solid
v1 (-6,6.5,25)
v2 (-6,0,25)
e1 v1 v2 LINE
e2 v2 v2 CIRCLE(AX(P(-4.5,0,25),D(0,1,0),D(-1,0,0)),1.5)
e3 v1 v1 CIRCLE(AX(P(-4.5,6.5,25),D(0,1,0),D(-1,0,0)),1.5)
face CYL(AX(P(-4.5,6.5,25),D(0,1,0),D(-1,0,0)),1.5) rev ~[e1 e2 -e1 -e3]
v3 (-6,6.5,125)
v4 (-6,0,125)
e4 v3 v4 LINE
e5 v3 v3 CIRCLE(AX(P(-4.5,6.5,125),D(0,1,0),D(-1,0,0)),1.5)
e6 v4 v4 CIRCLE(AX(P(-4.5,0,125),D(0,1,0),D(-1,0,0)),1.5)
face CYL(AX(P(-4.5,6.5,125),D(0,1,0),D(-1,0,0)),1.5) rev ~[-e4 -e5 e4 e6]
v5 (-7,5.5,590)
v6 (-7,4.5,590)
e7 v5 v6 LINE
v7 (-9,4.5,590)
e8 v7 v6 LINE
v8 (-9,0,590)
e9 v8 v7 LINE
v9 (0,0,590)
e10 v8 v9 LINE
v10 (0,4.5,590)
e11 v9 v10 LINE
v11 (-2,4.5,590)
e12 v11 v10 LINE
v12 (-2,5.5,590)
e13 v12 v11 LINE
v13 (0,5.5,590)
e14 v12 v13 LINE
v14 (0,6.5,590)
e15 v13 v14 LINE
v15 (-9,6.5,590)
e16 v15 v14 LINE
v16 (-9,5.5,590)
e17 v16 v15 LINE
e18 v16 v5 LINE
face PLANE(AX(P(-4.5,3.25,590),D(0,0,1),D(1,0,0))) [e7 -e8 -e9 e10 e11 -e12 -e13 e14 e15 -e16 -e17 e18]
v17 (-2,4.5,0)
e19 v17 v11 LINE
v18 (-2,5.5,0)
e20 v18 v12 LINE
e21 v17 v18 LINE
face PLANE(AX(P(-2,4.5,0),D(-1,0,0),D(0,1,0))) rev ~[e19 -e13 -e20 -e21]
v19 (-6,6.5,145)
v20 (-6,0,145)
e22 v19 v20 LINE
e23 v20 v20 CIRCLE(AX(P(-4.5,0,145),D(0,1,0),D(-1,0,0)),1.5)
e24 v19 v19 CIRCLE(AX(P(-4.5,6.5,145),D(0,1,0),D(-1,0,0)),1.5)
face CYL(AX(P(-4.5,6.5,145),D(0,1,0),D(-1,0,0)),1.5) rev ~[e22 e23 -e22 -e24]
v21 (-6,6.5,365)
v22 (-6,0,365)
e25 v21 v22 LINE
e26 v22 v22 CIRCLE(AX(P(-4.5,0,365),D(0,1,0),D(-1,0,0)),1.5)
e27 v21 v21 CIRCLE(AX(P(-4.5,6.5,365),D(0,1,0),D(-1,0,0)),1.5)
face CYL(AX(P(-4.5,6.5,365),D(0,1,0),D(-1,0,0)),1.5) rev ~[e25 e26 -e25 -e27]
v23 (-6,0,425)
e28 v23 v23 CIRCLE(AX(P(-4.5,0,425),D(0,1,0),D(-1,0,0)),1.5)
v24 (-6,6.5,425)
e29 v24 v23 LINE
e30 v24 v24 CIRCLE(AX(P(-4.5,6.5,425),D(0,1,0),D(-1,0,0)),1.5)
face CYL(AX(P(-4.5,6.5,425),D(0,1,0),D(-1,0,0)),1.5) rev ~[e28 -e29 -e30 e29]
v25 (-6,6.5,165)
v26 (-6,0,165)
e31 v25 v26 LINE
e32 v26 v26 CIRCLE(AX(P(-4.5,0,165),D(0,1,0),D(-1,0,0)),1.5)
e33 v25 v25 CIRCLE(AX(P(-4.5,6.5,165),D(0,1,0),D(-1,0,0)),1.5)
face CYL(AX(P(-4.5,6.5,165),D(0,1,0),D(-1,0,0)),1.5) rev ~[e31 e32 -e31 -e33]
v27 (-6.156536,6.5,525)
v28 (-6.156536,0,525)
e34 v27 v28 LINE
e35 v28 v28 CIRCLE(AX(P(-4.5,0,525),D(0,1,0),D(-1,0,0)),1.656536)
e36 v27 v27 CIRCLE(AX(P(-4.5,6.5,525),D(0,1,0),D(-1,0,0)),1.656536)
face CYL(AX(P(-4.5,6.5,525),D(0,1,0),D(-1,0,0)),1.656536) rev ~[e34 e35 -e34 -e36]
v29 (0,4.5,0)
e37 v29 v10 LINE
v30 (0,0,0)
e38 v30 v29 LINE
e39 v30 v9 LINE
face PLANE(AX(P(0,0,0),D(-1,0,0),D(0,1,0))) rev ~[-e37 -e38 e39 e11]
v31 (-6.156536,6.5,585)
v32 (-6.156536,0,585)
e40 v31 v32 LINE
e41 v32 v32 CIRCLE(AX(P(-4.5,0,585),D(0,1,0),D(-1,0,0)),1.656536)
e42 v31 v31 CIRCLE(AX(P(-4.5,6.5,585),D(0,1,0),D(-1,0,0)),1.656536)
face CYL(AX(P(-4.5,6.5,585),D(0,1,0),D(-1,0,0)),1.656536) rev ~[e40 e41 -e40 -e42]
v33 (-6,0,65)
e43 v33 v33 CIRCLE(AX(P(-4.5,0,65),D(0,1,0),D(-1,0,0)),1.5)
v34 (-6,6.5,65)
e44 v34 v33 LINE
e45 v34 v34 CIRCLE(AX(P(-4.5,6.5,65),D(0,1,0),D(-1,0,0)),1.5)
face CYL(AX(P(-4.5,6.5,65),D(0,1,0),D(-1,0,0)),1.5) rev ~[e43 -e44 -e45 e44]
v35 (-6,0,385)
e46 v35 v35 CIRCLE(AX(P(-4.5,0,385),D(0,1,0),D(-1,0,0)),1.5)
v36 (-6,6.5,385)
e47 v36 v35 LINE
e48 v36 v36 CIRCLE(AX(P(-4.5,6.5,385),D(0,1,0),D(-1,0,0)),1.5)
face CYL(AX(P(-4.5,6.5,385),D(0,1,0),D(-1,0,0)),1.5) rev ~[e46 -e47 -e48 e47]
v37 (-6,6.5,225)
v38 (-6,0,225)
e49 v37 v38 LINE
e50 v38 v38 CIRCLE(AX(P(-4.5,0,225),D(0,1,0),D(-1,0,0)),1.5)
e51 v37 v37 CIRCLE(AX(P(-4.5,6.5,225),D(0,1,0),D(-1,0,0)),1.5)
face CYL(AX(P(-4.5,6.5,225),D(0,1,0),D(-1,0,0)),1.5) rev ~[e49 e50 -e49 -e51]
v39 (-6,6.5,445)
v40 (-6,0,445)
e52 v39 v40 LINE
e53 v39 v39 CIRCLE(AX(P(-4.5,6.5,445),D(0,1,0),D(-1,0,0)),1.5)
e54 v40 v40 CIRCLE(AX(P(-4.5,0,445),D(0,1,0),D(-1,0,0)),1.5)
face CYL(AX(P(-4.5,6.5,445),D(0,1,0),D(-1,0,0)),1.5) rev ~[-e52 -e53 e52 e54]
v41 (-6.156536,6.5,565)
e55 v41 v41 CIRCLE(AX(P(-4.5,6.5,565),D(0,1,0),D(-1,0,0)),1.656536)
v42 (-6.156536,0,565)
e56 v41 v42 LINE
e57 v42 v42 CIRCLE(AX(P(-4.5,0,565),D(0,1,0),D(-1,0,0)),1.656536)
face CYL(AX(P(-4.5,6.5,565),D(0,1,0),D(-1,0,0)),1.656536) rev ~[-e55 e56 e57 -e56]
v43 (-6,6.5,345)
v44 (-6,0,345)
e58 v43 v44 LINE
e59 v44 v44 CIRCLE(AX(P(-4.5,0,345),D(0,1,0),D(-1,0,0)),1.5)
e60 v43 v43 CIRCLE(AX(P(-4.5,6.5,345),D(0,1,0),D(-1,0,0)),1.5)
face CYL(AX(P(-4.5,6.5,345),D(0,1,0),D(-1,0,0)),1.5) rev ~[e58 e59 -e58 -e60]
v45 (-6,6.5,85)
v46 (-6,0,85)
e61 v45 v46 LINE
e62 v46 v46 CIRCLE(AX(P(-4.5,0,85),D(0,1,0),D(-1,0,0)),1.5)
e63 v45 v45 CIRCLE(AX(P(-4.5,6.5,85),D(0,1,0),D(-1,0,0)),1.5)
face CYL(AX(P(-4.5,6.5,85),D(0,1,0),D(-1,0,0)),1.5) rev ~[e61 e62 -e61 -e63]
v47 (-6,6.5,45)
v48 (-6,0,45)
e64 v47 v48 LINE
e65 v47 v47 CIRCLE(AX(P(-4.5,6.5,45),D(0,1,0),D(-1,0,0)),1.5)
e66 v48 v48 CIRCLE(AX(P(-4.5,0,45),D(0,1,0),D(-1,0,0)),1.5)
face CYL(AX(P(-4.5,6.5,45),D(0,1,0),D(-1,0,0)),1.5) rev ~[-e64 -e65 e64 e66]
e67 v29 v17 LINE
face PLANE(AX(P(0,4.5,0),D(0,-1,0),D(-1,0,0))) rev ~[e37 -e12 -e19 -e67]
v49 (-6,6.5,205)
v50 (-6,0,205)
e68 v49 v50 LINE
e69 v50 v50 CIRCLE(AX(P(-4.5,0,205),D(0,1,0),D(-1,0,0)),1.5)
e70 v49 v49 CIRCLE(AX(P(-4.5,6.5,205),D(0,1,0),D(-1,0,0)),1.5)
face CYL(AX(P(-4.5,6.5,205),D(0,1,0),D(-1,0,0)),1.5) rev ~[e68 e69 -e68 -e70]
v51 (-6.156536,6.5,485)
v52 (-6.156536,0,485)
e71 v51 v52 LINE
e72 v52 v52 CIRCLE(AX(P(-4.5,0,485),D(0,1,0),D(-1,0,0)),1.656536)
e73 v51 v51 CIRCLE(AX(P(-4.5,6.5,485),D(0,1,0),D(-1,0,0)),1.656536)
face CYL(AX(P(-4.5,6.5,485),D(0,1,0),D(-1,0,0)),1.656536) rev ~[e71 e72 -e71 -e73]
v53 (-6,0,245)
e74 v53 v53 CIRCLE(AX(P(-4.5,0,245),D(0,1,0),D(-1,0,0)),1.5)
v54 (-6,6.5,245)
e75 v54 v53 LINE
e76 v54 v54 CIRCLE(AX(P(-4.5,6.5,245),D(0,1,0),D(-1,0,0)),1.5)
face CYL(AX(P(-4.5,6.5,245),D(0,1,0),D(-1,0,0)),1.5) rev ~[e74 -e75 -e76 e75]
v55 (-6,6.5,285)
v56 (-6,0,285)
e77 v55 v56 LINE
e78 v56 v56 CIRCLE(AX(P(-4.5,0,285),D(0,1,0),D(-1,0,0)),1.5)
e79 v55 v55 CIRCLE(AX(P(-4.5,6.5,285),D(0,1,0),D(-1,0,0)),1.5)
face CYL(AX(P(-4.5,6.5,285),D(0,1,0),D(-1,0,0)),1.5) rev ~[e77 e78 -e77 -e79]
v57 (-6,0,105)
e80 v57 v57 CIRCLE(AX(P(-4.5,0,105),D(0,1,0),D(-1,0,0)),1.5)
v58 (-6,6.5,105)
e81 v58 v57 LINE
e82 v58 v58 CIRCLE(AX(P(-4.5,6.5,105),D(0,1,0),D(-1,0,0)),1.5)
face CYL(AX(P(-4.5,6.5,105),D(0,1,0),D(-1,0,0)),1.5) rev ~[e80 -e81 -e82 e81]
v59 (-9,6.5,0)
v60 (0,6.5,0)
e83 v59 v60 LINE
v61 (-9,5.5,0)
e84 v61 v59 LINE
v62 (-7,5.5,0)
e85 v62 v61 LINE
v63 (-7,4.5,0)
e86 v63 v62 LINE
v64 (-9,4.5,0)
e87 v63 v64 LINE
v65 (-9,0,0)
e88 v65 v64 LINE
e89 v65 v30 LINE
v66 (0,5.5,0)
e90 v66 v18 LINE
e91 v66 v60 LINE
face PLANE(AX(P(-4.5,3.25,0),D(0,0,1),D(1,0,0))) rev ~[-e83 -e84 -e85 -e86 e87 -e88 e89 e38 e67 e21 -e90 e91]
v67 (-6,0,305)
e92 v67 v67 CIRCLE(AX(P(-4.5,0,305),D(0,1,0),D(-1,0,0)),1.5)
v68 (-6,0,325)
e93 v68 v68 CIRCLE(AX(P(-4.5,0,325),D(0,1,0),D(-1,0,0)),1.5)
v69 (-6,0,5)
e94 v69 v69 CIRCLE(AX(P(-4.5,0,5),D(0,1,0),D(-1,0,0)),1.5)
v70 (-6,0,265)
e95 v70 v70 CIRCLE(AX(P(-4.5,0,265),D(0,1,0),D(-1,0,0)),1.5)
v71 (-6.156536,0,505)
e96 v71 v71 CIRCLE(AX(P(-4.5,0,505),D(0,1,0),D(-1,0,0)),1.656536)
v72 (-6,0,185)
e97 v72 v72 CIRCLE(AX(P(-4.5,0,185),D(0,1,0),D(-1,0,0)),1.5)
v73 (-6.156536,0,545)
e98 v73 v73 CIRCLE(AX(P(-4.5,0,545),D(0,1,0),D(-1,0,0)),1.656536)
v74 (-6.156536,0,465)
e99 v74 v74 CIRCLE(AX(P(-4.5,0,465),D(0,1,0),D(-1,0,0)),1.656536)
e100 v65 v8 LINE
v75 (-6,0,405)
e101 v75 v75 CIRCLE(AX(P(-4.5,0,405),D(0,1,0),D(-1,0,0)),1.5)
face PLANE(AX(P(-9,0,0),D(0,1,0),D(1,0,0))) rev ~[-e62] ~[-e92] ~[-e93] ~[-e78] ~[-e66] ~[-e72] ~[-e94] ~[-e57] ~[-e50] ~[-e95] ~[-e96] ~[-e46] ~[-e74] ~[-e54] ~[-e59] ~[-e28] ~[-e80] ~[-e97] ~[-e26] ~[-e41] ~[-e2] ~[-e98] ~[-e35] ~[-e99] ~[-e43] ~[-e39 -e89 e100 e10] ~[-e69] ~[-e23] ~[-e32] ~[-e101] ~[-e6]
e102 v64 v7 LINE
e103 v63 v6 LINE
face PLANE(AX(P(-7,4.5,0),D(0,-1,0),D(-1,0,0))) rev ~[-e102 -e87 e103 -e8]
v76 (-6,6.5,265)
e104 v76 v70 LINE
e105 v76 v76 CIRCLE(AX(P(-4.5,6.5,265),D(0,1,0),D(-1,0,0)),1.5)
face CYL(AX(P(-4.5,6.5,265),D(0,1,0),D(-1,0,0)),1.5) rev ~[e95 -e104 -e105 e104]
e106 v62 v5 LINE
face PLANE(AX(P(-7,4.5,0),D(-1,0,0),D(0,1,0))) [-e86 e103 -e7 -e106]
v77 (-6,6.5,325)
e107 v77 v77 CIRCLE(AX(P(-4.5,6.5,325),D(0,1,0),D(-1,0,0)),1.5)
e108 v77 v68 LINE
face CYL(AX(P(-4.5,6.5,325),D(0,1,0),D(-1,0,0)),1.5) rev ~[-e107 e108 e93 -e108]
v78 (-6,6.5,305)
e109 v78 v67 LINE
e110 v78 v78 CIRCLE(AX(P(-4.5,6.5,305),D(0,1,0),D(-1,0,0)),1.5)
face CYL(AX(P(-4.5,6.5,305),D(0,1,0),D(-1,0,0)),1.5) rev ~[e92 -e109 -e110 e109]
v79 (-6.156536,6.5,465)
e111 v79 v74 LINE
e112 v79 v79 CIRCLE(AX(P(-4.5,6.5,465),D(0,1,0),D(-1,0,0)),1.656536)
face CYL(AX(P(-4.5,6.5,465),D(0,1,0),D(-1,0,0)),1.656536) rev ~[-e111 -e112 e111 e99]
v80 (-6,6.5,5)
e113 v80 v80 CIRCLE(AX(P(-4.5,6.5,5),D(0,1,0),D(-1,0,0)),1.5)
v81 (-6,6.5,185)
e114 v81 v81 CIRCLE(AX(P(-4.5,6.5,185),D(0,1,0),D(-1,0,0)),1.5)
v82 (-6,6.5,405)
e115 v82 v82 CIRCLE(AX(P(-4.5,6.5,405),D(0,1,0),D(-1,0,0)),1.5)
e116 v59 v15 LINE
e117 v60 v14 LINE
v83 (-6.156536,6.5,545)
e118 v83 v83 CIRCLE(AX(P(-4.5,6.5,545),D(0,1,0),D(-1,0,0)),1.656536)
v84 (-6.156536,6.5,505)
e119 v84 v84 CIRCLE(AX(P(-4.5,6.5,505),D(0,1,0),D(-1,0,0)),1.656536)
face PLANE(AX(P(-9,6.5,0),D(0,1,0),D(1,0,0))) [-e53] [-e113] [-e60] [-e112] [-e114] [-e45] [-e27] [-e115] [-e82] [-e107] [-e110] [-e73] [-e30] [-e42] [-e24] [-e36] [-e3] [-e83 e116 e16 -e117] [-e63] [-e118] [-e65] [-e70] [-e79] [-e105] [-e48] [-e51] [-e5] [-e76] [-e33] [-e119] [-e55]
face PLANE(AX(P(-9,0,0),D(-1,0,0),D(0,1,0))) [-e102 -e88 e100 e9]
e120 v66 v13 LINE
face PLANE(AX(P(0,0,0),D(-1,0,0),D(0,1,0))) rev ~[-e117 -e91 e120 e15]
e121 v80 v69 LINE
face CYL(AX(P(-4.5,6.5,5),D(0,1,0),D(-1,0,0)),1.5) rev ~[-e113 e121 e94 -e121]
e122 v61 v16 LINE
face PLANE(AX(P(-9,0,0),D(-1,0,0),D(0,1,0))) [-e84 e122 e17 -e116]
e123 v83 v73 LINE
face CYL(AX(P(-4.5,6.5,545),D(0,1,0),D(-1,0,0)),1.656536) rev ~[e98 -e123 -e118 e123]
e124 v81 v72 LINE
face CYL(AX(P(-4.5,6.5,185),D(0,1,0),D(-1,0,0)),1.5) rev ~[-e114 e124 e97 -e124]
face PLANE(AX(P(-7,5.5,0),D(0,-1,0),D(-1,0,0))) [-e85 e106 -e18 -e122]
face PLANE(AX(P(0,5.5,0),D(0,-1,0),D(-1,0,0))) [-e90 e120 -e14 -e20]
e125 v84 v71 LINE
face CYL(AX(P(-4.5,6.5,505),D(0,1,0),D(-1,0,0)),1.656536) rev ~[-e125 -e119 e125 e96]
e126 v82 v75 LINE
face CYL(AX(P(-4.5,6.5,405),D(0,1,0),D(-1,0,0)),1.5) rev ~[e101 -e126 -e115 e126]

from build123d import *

# Parameters (mm, degrees)
SKETCH_1_W          = 9
SKETCH_1_H          = 6.5
EXTRUDE_1_DEPTH     = 590
SKETCH_2_W          = 2
SKETCH_2_H          = 1
CUT_EXTRUDE_1_DEPTH = 610
CUT_EXTRUDE_2_REACH = 592.104
SKETCH_3_R          = 1.5
SKETCH_4_R          = 1.656535544
CUT_EXTRUDE_3_DEPTH = 10


with BuildPart() as part:
    # 草图1 → 凸台-拉伸1 (new body)
    with BuildSketch(Plane.XY):
        with Locations((-4.5, 3.25)):
            Rectangle(SKETCH_1_W, SKETCH_1_H)
    extrude(amount=EXTRUDE_1_DEPTH)

    # 草图2 → 切除-拉伸1 (cut)
    with BuildSketch(Plane(origin=(0, 0, 0), x_dir=(-1, 0, 0), z_dir=(0, 0, -1))):
        with Locations((1, 5)):
            Rectangle(SKETCH_2_W, SKETCH_2_H)
        with Locations((8, 5)):
            Rectangle(SKETCH_2_W, SKETCH_2_H)
    extrude(amount=-CUT_EXTRUDE_1_DEPTH, mode=Mode.SUBTRACT)

    # 草图3 → 切除-拉伸2 (cut, up to next)
    with BuildSketch(Plane(origin=(0, 6.5, 0), x_dir=(1, 0, 0), z_dir=(0, 1, 0)), mode=Mode.PRIVATE) as cut_extrude_2_sk1:
        with Locations(Location((-4.5, -5, 0), (0, 0, 180))):
            Circle(SKETCH_3_R)
    cut_extrude_2_tool1 = extrude(cut_extrude_2_sk1.sketch, amount=-CUT_EXTRUDE_2_REACH, mode=Mode.PRIVATE) & part.part
    # 草图3 → 切除-拉伸2 (cut, up to next)
    with BuildSketch(Plane(origin=(0, 6.5, 0), x_dir=(1, 0, 0), z_dir=(0, 1, 0)), mode=Mode.PRIVATE) as cut_extrude_2_sk2:
        with Locations(Location((-4.5, -25, 0), (0, 0, 180))):
            Circle(SKETCH_3_R)
    cut_extrude_2_tool2 = extrude(cut_extrude_2_sk2.sketch, amount=-CUT_EXTRUDE_2_REACH, mode=Mode.PRIVATE) & part.part
    # 草图3 → 切除-拉伸2 (cut, up to next)
    with BuildSketch(Plane(origin=(0, 6.5, 0), x_dir=(1, 0, 0), z_dir=(0, 1, 0)), mode=Mode.PRIVATE) as cut_extrude_2_sk3:
        with Locations(Location((-4.5, -45, 0), (0, 0, 180))):
            Circle(SKETCH_3_R)
    cut_extrude_2_tool3 = extrude(cut_extrude_2_sk3.sketch, amount=-CUT_EXTRUDE_2_REACH, mode=Mode.PRIVATE) & part.part
    # 草图3 → 切除-拉伸2 (cut, up to next)
    with BuildSketch(Plane(origin=(0, 6.5, 0), x_dir=(1, 0, 0), z_dir=(0, 1, 0)), mode=Mode.PRIVATE) as cut_extrude_2_sk4:
        with Locations(Location((-4.5, -65, 0), (0, 0, 180))):
            Circle(SKETCH_3_R)
    cut_extrude_2_tool4 = extrude(cut_extrude_2_sk4.sketch, amount=-CUT_EXTRUDE_2_REACH, mode=Mode.PRIVATE) & part.part
    # 草图3 → 切除-拉伸2 (cut, up to next)
    with BuildSketch(Plane(origin=(0, 6.5, 0), x_dir=(1, 0, 0), z_dir=(0, 1, 0)), mode=Mode.PRIVATE) as cut_extrude_2_sk5:
        with Locations(Location((-4.5, -85, 0), (0, 0, 180))):
            Circle(SKETCH_3_R)
    cut_extrude_2_tool5 = extrude(cut_extrude_2_sk5.sketch, amount=-CUT_EXTRUDE_2_REACH, mode=Mode.PRIVATE) & part.part
    # 草图3 → 切除-拉伸2 (cut, up to next)
    with BuildSketch(Plane(origin=(0, 6.5, 0), x_dir=(1, 0, 0), z_dir=(0, 1, 0)), mode=Mode.PRIVATE) as cut_extrude_2_sk6:
        with Locations(Location((-4.5, -105, 0), (0, 0, 180))):
            Circle(SKETCH_3_R)
    cut_extrude_2_tool6 = extrude(cut_extrude_2_sk6.sketch, amount=-CUT_EXTRUDE_2_REACH, mode=Mode.PRIVATE) & part.part
    # 草图3 → 切除-拉伸2 (cut, up to next)
    with BuildSketch(Plane(origin=(0, 6.5, 0), x_dir=(1, 0, 0), z_dir=(0, 1, 0)), mode=Mode.PRIVATE) as cut_extrude_2_sk7:
        with Locations(Location((-4.5, -125, 0), (0, 0, 180))):
            Circle(SKETCH_3_R)
    cut_extrude_2_tool7 = extrude(cut_extrude_2_sk7.sketch, amount=-CUT_EXTRUDE_2_REACH, mode=Mode.PRIVATE) & part.part
    # 草图3 → 切除-拉伸2 (cut, up to next)
    with BuildSketch(Plane(origin=(0, 6.5, 0), x_dir=(1, 0, 0), z_dir=(0, 1, 0)), mode=Mode.PRIVATE) as cut_extrude_2_sk8:
        with Locations(Location((-4.5, -145, 0), (0, 0, 180))):
            Circle(SKETCH_3_R)
    cut_extrude_2_tool8 = extrude(cut_extrude_2_sk8.sketch, amount=-CUT_EXTRUDE_2_REACH, mode=Mode.PRIVATE) & part.part
    # 草图3 → 切除-拉伸2 (cut, up to next)
    with BuildSketch(Plane(origin=(0, 6.5, 0), x_dir=(1, 0, 0), z_dir=(0, 1, 0)), mode=Mode.PRIVATE) as cut_extrude_2_sk9:
        with Locations(Location((-4.5, -165, 0), (0, 0, 180))):
            Circle(SKETCH_3_R)
    cut_extrude_2_tool9 = extrude(cut_extrude_2_sk9.sketch, amount=-CUT_EXTRUDE_2_REACH, mode=Mode.PRIVATE) & part.part
    # 草图3 → 切除-拉伸2 (cut, up to next)
    with BuildSketch(Plane(origin=(0, 6.5, 0), x_dir=(1, 0, 0), z_dir=(0, 1, 0)), mode=Mode.PRIVATE) as cut_extrude_2_sk10:
        with Locations(Location((-4.5, -185, 0), (0, 0, 180))):
            Circle(SKETCH_3_R)
    cut_extrude_2_tool10 = extrude(cut_extrude_2_sk10.sketch, amount=-CUT_EXTRUDE_2_REACH, mode=Mode.PRIVATE) & part.part
    # 草图3 → 切除-拉伸2 (cut, up to next)
    with BuildSketch(Plane(origin=(0, 6.5, 0), x_dir=(1, 0, 0), z_dir=(0, 1, 0)), mode=Mode.PRIVATE) as cut_extrude_2_sk11:
        with Locations(Location((-4.5, -205, 0), (0, 0, 180))):
            Circle(SKETCH_3_R)
    cut_extrude_2_tool11 = extrude(cut_extrude_2_sk11.sketch, amount=-CUT_EXTRUDE_2_REACH, mode=Mode.PRIVATE) & part.part
    # 草图3 → 切除-拉伸2 (cut, up to next)
    with BuildSketch(Plane(origin=(0, 6.5, 0), x_dir=(1, 0, 0), z_dir=(0, 1, 0)), mode=Mode.PRIVATE) as cut_extrude_2_sk12:
        with Locations(Location((-4.5, -225, 0), (0, 0, 180))):
            Circle(SKETCH_3_R)
    cut_extrude_2_tool12 = extrude(cut_extrude_2_sk12.sketch, amount=-CUT_EXTRUDE_2_REACH, mode=Mode.PRIVATE) & part.part
    # 草图3 → 切除-拉伸2 (cut, up to next)
    with BuildSketch(Plane(origin=(0, 6.5, 0), x_dir=(1, 0, 0), z_dir=(0, 1, 0)), mode=Mode.PRIVATE) as cut_extrude_2_sk13:
        with Locations(Location((-4.5, -245, 0), (0, 0, 180))):
            Circle(SKETCH_3_R)
    cut_extrude_2_tool13 = extrude(cut_extrude_2_sk13.sketch, amount=-CUT_EXTRUDE_2_REACH, mode=Mode.PRIVATE) & part.part
    # 草图3 → 切除-拉伸2 (cut, up to next)
    with BuildSketch(Plane(origin=(0, 6.5, 0), x_dir=(1, 0, 0), z_dir=(0, 1, 0)), mode=Mode.PRIVATE) as cut_extrude_2_sk14:
        with Locations(Location((-4.5, -265, 0), (0, 0, 180))):
            Circle(SKETCH_3_R)
    cut_extrude_2_tool14 = extrude(cut_extrude_2_sk14.sketch, amount=-CUT_EXTRUDE_2_REACH, mode=Mode.PRIVATE) & part.part
    # 草图3 → 切除-拉伸2 (cut, up to next)
    with BuildSketch(Plane(origin=(0, 6.5, 0), x_dir=(1, 0, 0), z_dir=(0, 1, 0)), mode=Mode.PRIVATE) as cut_extrude_2_sk15:
        with Locations(Location((-4.5, -285, 0), (0, 0, 180))):
            Circle(SKETCH_3_R)
    cut_extrude_2_tool15 = extrude(cut_extrude_2_sk15.sketch, amount=-CUT_EXTRUDE_2_REACH, mode=Mode.PRIVATE) & part.part
    # 草图3 → 切除-拉伸2 (cut, up to next)
    with BuildSketch(Plane(origin=(0, 6.5, 0), x_dir=(1, 0, 0), z_dir=(0, 1, 0)), mode=Mode.PRIVATE) as cut_extrude_2_sk16:
        with Locations(Location((-4.5, -305, 0), (0, 0, 180))):
            Circle(SKETCH_3_R)
    cut_extrude_2_tool16 = extrude(cut_extrude_2_sk16.sketch, amount=-CUT_EXTRUDE_2_REACH, mode=Mode.PRIVATE) & part.part
    # 草图3 → 切除-拉伸2 (cut, up to next)
    with BuildSketch(Plane(origin=(0, 6.5, 0), x_dir=(1, 0, 0), z_dir=(0, 1, 0)), mode=Mode.PRIVATE) as cut_extrude_2_sk17:
        with Locations(Location((-4.5, -325, 0), (0, 0, 180))):
            Circle(SKETCH_3_R)
    cut_extrude_2_tool17 = extrude(cut_extrude_2_sk17.sketch, amount=-CUT_EXTRUDE_2_REACH, mode=Mode.PRIVATE) & part.part
    # 草图3 → 切除-拉伸2 (cut, up to next)
    with BuildSketch(Plane(origin=(0, 6.5, 0), x_dir=(1, 0, 0), z_dir=(0, 1, 0)), mode=Mode.PRIVATE) as cut_extrude_2_sk18:
        with Locations(Location((-4.5, -345, 0), (0, 0, 180))):
            Circle(SKETCH_3_R)
    cut_extrude_2_tool18 = extrude(cut_extrude_2_sk18.sketch, amount=-CUT_EXTRUDE_2_REACH, mode=Mode.PRIVATE) & part.part
    # 草图3 → 切除-拉伸2 (cut, up to next)
    with BuildSketch(Plane(origin=(0, 6.5, 0), x_dir=(1, 0, 0), z_dir=(0, 1, 0)), mode=Mode.PRIVATE) as cut_extrude_2_sk19:
        with Locations(Location((-4.5, -365, 0), (0, 0, 180))):
            Circle(SKETCH_3_R)
    cut_extrude_2_tool19 = extrude(cut_extrude_2_sk19.sketch, amount=-CUT_EXTRUDE_2_REACH, mode=Mode.PRIVATE) & part.part
    # 草图3 → 切除-拉伸2 (cut, up to next)
    with BuildSketch(Plane(origin=(0, 6.5, 0), x_dir=(1, 0, 0), z_dir=(0, 1, 0)), mode=Mode.PRIVATE) as cut_extrude_2_sk20:
        with Locations(Location((-4.5, -385, 0), (0, 0, 180))):
            Circle(SKETCH_3_R)
    cut_extrude_2_tool20 = extrude(cut_extrude_2_sk20.sketch, amount=-CUT_EXTRUDE_2_REACH, mode=Mode.PRIVATE) & part.part
    # 草图3 → 切除-拉伸2 (cut, up to next)
    with BuildSketch(Plane(origin=(0, 6.5, 0), x_dir=(1, 0, 0), z_dir=(0, 1, 0)), mode=Mode.PRIVATE) as cut_extrude_2_sk21:
        with Locations(Location((-4.5, -405, 0), (0, 0, 180))):
            Circle(SKETCH_3_R)
    cut_extrude_2_tool21 = extrude(cut_extrude_2_sk21.sketch, amount=-CUT_EXTRUDE_2_REACH, mode=Mode.PRIVATE) & part.part
    # 草图3 → 切除-拉伸2 (cut, up to next)
    with BuildSketch(Plane(origin=(0, 6.5, 0), x_dir=(1, 0, 0), z_dir=(0, 1, 0)), mode=Mode.PRIVATE) as cut_extrude_2_sk22:
        with Locations(Location((-4.5, -425, 0), (0, 0, 180))):
            Circle(SKETCH_3_R)
    cut_extrude_2_tool22 = extrude(cut_extrude_2_sk22.sketch, amount=-CUT_EXTRUDE_2_REACH, mode=Mode.PRIVATE) & part.part
    # 草图3 → 切除-拉伸2 (cut, up to next)
    with BuildSketch(Plane(origin=(0, 6.5, 0), x_dir=(1, 0, 0), z_dir=(0, 1, 0)), mode=Mode.PRIVATE) as cut_extrude_2_sk23:
        with Locations(Location((-4.5, -445, 0), (0, 0, 180))):
            Circle(SKETCH_3_R)
    cut_extrude_2_tool23 = extrude(cut_extrude_2_sk23.sketch, amount=-CUT_EXTRUDE_2_REACH, mode=Mode.PRIVATE) & part.part
    add(cut_extrude_2_tool1.solids().sort_by_distance((-4.5, 6.5, 5))[0], mode=Mode.SUBTRACT)
    add(cut_extrude_2_tool2.solids().sort_by_distance((-4.5, 6.5, 25))[0], mode=Mode.SUBTRACT)
    add(cut_extrude_2_tool3.solids().sort_by_distance((-4.5, 6.5, 45))[0], mode=Mode.SUBTRACT)
    add(cut_extrude_2_tool4.solids().sort_by_distance((-4.5, 6.5, 65))[0], mode=Mode.SUBTRACT)
    add(cut_extrude_2_tool5.solids().sort_by_distance((-4.5, 6.5, 85))[0], mode=Mode.SUBTRACT)
    add(cut_extrude_2_tool6.solids().sort_by_distance((-4.5, 6.5, 105))[0], mode=Mode.SUBTRACT)
    add(cut_extrude_2_tool7.solids().sort_by_distance((-4.5, 6.5, 125))[0], mode=Mode.SUBTRACT)
    add(cut_extrude_2_tool8.solids().sort_by_distance((-4.5, 6.5, 145))[0], mode=Mode.SUBTRACT)
    add(cut_extrude_2_tool9.solids().sort_by_distance((-4.5, 6.5, 165))[0], mode=Mode.SUBTRACT)
    add(cut_extrude_2_tool10.solids().sort_by_distance((-4.5, 6.5, 185))[0], mode=Mode.SUBTRACT)
    add(cut_extrude_2_tool11.solids().sort_by_distance((-4.5, 6.5, 205))[0], mode=Mode.SUBTRACT)
    add(cut_extrude_2_tool12.solids().sort_by_distance((-4.5, 6.5, 225))[0], mode=Mode.SUBTRACT)
    add(cut_extrude_2_tool13.solids().sort_by_distance((-4.5, 6.5, 245))[0], mode=Mode.SUBTRACT)
    add(cut_extrude_2_tool14.solids().sort_by_distance((-4.5, 6.5, 265))[0], mode=Mode.SUBTRACT)
    add(cut_extrude_2_tool15.solids().sort_by_distance((-4.5, 6.5, 285))[0], mode=Mode.SUBTRACT)
    add(cut_extrude_2_tool16.solids().sort_by_distance((-4.5, 6.5, 305))[0], mode=Mode.SUBTRACT)
    add(cut_extrude_2_tool17.solids().sort_by_distance((-4.5, 6.5, 325))[0], mode=Mode.SUBTRACT)
    add(cut_extrude_2_tool18.solids().sort_by_distance((-4.5, 6.5, 345))[0], mode=Mode.SUBTRACT)
    add(cut_extrude_2_tool19.solids().sort_by_distance((-4.5, 6.5, 365))[0], mode=Mode.SUBTRACT)
    add(cut_extrude_2_tool20.solids().sort_by_distance((-4.5, 6.5, 385))[0], mode=Mode.SUBTRACT)
    add(cut_extrude_2_tool21.solids().sort_by_distance((-4.5, 6.5, 405))[0], mode=Mode.SUBTRACT)
    add(cut_extrude_2_tool22.solids().sort_by_distance((-4.5, 6.5, 425))[0], mode=Mode.SUBTRACT)
    add(cut_extrude_2_tool23.solids().sort_by_distance((-4.5, 6.5, 445))[0], mode=Mode.SUBTRACT)

    # 草图4 → 切除-拉伸3 (cut)
    with BuildSketch(Plane(origin=(0, 6.5, 0), x_dir=(1, 0, 0), z_dir=(0, 1, 0))):
        with Locations(Location((-4.5, -465, 0), (0, 0, 180))):
            Circle(SKETCH_4_R)
        with Locations(Location((-4.5, -485, 0), (0, 0, 180))):
            Circle(SKETCH_4_R)
        with Locations(Location((-4.5, -505, 0), (0, 0, 180))):
            Circle(SKETCH_4_R)
        with Locations(Location((-4.5, -525, 0), (0, 0, 180))):
            Circle(SKETCH_4_R)
        with Locations(Location((-4.5, -545, 0), (0, 0, 180))):
            Circle(SKETCH_4_R)
        with Locations(Location((-4.5, -565, 0), (0, 0, 180))):
            Circle(SKETCH_4_R)
        with Locations(Location((-4.5, -585, 0), (0, 0, 180))):
            Circle(SKETCH_4_R)
    extrude(amount=-CUT_EXTRUDE_3_DEPTH, mode=Mode.SUBTRACT)


solid = part.part
